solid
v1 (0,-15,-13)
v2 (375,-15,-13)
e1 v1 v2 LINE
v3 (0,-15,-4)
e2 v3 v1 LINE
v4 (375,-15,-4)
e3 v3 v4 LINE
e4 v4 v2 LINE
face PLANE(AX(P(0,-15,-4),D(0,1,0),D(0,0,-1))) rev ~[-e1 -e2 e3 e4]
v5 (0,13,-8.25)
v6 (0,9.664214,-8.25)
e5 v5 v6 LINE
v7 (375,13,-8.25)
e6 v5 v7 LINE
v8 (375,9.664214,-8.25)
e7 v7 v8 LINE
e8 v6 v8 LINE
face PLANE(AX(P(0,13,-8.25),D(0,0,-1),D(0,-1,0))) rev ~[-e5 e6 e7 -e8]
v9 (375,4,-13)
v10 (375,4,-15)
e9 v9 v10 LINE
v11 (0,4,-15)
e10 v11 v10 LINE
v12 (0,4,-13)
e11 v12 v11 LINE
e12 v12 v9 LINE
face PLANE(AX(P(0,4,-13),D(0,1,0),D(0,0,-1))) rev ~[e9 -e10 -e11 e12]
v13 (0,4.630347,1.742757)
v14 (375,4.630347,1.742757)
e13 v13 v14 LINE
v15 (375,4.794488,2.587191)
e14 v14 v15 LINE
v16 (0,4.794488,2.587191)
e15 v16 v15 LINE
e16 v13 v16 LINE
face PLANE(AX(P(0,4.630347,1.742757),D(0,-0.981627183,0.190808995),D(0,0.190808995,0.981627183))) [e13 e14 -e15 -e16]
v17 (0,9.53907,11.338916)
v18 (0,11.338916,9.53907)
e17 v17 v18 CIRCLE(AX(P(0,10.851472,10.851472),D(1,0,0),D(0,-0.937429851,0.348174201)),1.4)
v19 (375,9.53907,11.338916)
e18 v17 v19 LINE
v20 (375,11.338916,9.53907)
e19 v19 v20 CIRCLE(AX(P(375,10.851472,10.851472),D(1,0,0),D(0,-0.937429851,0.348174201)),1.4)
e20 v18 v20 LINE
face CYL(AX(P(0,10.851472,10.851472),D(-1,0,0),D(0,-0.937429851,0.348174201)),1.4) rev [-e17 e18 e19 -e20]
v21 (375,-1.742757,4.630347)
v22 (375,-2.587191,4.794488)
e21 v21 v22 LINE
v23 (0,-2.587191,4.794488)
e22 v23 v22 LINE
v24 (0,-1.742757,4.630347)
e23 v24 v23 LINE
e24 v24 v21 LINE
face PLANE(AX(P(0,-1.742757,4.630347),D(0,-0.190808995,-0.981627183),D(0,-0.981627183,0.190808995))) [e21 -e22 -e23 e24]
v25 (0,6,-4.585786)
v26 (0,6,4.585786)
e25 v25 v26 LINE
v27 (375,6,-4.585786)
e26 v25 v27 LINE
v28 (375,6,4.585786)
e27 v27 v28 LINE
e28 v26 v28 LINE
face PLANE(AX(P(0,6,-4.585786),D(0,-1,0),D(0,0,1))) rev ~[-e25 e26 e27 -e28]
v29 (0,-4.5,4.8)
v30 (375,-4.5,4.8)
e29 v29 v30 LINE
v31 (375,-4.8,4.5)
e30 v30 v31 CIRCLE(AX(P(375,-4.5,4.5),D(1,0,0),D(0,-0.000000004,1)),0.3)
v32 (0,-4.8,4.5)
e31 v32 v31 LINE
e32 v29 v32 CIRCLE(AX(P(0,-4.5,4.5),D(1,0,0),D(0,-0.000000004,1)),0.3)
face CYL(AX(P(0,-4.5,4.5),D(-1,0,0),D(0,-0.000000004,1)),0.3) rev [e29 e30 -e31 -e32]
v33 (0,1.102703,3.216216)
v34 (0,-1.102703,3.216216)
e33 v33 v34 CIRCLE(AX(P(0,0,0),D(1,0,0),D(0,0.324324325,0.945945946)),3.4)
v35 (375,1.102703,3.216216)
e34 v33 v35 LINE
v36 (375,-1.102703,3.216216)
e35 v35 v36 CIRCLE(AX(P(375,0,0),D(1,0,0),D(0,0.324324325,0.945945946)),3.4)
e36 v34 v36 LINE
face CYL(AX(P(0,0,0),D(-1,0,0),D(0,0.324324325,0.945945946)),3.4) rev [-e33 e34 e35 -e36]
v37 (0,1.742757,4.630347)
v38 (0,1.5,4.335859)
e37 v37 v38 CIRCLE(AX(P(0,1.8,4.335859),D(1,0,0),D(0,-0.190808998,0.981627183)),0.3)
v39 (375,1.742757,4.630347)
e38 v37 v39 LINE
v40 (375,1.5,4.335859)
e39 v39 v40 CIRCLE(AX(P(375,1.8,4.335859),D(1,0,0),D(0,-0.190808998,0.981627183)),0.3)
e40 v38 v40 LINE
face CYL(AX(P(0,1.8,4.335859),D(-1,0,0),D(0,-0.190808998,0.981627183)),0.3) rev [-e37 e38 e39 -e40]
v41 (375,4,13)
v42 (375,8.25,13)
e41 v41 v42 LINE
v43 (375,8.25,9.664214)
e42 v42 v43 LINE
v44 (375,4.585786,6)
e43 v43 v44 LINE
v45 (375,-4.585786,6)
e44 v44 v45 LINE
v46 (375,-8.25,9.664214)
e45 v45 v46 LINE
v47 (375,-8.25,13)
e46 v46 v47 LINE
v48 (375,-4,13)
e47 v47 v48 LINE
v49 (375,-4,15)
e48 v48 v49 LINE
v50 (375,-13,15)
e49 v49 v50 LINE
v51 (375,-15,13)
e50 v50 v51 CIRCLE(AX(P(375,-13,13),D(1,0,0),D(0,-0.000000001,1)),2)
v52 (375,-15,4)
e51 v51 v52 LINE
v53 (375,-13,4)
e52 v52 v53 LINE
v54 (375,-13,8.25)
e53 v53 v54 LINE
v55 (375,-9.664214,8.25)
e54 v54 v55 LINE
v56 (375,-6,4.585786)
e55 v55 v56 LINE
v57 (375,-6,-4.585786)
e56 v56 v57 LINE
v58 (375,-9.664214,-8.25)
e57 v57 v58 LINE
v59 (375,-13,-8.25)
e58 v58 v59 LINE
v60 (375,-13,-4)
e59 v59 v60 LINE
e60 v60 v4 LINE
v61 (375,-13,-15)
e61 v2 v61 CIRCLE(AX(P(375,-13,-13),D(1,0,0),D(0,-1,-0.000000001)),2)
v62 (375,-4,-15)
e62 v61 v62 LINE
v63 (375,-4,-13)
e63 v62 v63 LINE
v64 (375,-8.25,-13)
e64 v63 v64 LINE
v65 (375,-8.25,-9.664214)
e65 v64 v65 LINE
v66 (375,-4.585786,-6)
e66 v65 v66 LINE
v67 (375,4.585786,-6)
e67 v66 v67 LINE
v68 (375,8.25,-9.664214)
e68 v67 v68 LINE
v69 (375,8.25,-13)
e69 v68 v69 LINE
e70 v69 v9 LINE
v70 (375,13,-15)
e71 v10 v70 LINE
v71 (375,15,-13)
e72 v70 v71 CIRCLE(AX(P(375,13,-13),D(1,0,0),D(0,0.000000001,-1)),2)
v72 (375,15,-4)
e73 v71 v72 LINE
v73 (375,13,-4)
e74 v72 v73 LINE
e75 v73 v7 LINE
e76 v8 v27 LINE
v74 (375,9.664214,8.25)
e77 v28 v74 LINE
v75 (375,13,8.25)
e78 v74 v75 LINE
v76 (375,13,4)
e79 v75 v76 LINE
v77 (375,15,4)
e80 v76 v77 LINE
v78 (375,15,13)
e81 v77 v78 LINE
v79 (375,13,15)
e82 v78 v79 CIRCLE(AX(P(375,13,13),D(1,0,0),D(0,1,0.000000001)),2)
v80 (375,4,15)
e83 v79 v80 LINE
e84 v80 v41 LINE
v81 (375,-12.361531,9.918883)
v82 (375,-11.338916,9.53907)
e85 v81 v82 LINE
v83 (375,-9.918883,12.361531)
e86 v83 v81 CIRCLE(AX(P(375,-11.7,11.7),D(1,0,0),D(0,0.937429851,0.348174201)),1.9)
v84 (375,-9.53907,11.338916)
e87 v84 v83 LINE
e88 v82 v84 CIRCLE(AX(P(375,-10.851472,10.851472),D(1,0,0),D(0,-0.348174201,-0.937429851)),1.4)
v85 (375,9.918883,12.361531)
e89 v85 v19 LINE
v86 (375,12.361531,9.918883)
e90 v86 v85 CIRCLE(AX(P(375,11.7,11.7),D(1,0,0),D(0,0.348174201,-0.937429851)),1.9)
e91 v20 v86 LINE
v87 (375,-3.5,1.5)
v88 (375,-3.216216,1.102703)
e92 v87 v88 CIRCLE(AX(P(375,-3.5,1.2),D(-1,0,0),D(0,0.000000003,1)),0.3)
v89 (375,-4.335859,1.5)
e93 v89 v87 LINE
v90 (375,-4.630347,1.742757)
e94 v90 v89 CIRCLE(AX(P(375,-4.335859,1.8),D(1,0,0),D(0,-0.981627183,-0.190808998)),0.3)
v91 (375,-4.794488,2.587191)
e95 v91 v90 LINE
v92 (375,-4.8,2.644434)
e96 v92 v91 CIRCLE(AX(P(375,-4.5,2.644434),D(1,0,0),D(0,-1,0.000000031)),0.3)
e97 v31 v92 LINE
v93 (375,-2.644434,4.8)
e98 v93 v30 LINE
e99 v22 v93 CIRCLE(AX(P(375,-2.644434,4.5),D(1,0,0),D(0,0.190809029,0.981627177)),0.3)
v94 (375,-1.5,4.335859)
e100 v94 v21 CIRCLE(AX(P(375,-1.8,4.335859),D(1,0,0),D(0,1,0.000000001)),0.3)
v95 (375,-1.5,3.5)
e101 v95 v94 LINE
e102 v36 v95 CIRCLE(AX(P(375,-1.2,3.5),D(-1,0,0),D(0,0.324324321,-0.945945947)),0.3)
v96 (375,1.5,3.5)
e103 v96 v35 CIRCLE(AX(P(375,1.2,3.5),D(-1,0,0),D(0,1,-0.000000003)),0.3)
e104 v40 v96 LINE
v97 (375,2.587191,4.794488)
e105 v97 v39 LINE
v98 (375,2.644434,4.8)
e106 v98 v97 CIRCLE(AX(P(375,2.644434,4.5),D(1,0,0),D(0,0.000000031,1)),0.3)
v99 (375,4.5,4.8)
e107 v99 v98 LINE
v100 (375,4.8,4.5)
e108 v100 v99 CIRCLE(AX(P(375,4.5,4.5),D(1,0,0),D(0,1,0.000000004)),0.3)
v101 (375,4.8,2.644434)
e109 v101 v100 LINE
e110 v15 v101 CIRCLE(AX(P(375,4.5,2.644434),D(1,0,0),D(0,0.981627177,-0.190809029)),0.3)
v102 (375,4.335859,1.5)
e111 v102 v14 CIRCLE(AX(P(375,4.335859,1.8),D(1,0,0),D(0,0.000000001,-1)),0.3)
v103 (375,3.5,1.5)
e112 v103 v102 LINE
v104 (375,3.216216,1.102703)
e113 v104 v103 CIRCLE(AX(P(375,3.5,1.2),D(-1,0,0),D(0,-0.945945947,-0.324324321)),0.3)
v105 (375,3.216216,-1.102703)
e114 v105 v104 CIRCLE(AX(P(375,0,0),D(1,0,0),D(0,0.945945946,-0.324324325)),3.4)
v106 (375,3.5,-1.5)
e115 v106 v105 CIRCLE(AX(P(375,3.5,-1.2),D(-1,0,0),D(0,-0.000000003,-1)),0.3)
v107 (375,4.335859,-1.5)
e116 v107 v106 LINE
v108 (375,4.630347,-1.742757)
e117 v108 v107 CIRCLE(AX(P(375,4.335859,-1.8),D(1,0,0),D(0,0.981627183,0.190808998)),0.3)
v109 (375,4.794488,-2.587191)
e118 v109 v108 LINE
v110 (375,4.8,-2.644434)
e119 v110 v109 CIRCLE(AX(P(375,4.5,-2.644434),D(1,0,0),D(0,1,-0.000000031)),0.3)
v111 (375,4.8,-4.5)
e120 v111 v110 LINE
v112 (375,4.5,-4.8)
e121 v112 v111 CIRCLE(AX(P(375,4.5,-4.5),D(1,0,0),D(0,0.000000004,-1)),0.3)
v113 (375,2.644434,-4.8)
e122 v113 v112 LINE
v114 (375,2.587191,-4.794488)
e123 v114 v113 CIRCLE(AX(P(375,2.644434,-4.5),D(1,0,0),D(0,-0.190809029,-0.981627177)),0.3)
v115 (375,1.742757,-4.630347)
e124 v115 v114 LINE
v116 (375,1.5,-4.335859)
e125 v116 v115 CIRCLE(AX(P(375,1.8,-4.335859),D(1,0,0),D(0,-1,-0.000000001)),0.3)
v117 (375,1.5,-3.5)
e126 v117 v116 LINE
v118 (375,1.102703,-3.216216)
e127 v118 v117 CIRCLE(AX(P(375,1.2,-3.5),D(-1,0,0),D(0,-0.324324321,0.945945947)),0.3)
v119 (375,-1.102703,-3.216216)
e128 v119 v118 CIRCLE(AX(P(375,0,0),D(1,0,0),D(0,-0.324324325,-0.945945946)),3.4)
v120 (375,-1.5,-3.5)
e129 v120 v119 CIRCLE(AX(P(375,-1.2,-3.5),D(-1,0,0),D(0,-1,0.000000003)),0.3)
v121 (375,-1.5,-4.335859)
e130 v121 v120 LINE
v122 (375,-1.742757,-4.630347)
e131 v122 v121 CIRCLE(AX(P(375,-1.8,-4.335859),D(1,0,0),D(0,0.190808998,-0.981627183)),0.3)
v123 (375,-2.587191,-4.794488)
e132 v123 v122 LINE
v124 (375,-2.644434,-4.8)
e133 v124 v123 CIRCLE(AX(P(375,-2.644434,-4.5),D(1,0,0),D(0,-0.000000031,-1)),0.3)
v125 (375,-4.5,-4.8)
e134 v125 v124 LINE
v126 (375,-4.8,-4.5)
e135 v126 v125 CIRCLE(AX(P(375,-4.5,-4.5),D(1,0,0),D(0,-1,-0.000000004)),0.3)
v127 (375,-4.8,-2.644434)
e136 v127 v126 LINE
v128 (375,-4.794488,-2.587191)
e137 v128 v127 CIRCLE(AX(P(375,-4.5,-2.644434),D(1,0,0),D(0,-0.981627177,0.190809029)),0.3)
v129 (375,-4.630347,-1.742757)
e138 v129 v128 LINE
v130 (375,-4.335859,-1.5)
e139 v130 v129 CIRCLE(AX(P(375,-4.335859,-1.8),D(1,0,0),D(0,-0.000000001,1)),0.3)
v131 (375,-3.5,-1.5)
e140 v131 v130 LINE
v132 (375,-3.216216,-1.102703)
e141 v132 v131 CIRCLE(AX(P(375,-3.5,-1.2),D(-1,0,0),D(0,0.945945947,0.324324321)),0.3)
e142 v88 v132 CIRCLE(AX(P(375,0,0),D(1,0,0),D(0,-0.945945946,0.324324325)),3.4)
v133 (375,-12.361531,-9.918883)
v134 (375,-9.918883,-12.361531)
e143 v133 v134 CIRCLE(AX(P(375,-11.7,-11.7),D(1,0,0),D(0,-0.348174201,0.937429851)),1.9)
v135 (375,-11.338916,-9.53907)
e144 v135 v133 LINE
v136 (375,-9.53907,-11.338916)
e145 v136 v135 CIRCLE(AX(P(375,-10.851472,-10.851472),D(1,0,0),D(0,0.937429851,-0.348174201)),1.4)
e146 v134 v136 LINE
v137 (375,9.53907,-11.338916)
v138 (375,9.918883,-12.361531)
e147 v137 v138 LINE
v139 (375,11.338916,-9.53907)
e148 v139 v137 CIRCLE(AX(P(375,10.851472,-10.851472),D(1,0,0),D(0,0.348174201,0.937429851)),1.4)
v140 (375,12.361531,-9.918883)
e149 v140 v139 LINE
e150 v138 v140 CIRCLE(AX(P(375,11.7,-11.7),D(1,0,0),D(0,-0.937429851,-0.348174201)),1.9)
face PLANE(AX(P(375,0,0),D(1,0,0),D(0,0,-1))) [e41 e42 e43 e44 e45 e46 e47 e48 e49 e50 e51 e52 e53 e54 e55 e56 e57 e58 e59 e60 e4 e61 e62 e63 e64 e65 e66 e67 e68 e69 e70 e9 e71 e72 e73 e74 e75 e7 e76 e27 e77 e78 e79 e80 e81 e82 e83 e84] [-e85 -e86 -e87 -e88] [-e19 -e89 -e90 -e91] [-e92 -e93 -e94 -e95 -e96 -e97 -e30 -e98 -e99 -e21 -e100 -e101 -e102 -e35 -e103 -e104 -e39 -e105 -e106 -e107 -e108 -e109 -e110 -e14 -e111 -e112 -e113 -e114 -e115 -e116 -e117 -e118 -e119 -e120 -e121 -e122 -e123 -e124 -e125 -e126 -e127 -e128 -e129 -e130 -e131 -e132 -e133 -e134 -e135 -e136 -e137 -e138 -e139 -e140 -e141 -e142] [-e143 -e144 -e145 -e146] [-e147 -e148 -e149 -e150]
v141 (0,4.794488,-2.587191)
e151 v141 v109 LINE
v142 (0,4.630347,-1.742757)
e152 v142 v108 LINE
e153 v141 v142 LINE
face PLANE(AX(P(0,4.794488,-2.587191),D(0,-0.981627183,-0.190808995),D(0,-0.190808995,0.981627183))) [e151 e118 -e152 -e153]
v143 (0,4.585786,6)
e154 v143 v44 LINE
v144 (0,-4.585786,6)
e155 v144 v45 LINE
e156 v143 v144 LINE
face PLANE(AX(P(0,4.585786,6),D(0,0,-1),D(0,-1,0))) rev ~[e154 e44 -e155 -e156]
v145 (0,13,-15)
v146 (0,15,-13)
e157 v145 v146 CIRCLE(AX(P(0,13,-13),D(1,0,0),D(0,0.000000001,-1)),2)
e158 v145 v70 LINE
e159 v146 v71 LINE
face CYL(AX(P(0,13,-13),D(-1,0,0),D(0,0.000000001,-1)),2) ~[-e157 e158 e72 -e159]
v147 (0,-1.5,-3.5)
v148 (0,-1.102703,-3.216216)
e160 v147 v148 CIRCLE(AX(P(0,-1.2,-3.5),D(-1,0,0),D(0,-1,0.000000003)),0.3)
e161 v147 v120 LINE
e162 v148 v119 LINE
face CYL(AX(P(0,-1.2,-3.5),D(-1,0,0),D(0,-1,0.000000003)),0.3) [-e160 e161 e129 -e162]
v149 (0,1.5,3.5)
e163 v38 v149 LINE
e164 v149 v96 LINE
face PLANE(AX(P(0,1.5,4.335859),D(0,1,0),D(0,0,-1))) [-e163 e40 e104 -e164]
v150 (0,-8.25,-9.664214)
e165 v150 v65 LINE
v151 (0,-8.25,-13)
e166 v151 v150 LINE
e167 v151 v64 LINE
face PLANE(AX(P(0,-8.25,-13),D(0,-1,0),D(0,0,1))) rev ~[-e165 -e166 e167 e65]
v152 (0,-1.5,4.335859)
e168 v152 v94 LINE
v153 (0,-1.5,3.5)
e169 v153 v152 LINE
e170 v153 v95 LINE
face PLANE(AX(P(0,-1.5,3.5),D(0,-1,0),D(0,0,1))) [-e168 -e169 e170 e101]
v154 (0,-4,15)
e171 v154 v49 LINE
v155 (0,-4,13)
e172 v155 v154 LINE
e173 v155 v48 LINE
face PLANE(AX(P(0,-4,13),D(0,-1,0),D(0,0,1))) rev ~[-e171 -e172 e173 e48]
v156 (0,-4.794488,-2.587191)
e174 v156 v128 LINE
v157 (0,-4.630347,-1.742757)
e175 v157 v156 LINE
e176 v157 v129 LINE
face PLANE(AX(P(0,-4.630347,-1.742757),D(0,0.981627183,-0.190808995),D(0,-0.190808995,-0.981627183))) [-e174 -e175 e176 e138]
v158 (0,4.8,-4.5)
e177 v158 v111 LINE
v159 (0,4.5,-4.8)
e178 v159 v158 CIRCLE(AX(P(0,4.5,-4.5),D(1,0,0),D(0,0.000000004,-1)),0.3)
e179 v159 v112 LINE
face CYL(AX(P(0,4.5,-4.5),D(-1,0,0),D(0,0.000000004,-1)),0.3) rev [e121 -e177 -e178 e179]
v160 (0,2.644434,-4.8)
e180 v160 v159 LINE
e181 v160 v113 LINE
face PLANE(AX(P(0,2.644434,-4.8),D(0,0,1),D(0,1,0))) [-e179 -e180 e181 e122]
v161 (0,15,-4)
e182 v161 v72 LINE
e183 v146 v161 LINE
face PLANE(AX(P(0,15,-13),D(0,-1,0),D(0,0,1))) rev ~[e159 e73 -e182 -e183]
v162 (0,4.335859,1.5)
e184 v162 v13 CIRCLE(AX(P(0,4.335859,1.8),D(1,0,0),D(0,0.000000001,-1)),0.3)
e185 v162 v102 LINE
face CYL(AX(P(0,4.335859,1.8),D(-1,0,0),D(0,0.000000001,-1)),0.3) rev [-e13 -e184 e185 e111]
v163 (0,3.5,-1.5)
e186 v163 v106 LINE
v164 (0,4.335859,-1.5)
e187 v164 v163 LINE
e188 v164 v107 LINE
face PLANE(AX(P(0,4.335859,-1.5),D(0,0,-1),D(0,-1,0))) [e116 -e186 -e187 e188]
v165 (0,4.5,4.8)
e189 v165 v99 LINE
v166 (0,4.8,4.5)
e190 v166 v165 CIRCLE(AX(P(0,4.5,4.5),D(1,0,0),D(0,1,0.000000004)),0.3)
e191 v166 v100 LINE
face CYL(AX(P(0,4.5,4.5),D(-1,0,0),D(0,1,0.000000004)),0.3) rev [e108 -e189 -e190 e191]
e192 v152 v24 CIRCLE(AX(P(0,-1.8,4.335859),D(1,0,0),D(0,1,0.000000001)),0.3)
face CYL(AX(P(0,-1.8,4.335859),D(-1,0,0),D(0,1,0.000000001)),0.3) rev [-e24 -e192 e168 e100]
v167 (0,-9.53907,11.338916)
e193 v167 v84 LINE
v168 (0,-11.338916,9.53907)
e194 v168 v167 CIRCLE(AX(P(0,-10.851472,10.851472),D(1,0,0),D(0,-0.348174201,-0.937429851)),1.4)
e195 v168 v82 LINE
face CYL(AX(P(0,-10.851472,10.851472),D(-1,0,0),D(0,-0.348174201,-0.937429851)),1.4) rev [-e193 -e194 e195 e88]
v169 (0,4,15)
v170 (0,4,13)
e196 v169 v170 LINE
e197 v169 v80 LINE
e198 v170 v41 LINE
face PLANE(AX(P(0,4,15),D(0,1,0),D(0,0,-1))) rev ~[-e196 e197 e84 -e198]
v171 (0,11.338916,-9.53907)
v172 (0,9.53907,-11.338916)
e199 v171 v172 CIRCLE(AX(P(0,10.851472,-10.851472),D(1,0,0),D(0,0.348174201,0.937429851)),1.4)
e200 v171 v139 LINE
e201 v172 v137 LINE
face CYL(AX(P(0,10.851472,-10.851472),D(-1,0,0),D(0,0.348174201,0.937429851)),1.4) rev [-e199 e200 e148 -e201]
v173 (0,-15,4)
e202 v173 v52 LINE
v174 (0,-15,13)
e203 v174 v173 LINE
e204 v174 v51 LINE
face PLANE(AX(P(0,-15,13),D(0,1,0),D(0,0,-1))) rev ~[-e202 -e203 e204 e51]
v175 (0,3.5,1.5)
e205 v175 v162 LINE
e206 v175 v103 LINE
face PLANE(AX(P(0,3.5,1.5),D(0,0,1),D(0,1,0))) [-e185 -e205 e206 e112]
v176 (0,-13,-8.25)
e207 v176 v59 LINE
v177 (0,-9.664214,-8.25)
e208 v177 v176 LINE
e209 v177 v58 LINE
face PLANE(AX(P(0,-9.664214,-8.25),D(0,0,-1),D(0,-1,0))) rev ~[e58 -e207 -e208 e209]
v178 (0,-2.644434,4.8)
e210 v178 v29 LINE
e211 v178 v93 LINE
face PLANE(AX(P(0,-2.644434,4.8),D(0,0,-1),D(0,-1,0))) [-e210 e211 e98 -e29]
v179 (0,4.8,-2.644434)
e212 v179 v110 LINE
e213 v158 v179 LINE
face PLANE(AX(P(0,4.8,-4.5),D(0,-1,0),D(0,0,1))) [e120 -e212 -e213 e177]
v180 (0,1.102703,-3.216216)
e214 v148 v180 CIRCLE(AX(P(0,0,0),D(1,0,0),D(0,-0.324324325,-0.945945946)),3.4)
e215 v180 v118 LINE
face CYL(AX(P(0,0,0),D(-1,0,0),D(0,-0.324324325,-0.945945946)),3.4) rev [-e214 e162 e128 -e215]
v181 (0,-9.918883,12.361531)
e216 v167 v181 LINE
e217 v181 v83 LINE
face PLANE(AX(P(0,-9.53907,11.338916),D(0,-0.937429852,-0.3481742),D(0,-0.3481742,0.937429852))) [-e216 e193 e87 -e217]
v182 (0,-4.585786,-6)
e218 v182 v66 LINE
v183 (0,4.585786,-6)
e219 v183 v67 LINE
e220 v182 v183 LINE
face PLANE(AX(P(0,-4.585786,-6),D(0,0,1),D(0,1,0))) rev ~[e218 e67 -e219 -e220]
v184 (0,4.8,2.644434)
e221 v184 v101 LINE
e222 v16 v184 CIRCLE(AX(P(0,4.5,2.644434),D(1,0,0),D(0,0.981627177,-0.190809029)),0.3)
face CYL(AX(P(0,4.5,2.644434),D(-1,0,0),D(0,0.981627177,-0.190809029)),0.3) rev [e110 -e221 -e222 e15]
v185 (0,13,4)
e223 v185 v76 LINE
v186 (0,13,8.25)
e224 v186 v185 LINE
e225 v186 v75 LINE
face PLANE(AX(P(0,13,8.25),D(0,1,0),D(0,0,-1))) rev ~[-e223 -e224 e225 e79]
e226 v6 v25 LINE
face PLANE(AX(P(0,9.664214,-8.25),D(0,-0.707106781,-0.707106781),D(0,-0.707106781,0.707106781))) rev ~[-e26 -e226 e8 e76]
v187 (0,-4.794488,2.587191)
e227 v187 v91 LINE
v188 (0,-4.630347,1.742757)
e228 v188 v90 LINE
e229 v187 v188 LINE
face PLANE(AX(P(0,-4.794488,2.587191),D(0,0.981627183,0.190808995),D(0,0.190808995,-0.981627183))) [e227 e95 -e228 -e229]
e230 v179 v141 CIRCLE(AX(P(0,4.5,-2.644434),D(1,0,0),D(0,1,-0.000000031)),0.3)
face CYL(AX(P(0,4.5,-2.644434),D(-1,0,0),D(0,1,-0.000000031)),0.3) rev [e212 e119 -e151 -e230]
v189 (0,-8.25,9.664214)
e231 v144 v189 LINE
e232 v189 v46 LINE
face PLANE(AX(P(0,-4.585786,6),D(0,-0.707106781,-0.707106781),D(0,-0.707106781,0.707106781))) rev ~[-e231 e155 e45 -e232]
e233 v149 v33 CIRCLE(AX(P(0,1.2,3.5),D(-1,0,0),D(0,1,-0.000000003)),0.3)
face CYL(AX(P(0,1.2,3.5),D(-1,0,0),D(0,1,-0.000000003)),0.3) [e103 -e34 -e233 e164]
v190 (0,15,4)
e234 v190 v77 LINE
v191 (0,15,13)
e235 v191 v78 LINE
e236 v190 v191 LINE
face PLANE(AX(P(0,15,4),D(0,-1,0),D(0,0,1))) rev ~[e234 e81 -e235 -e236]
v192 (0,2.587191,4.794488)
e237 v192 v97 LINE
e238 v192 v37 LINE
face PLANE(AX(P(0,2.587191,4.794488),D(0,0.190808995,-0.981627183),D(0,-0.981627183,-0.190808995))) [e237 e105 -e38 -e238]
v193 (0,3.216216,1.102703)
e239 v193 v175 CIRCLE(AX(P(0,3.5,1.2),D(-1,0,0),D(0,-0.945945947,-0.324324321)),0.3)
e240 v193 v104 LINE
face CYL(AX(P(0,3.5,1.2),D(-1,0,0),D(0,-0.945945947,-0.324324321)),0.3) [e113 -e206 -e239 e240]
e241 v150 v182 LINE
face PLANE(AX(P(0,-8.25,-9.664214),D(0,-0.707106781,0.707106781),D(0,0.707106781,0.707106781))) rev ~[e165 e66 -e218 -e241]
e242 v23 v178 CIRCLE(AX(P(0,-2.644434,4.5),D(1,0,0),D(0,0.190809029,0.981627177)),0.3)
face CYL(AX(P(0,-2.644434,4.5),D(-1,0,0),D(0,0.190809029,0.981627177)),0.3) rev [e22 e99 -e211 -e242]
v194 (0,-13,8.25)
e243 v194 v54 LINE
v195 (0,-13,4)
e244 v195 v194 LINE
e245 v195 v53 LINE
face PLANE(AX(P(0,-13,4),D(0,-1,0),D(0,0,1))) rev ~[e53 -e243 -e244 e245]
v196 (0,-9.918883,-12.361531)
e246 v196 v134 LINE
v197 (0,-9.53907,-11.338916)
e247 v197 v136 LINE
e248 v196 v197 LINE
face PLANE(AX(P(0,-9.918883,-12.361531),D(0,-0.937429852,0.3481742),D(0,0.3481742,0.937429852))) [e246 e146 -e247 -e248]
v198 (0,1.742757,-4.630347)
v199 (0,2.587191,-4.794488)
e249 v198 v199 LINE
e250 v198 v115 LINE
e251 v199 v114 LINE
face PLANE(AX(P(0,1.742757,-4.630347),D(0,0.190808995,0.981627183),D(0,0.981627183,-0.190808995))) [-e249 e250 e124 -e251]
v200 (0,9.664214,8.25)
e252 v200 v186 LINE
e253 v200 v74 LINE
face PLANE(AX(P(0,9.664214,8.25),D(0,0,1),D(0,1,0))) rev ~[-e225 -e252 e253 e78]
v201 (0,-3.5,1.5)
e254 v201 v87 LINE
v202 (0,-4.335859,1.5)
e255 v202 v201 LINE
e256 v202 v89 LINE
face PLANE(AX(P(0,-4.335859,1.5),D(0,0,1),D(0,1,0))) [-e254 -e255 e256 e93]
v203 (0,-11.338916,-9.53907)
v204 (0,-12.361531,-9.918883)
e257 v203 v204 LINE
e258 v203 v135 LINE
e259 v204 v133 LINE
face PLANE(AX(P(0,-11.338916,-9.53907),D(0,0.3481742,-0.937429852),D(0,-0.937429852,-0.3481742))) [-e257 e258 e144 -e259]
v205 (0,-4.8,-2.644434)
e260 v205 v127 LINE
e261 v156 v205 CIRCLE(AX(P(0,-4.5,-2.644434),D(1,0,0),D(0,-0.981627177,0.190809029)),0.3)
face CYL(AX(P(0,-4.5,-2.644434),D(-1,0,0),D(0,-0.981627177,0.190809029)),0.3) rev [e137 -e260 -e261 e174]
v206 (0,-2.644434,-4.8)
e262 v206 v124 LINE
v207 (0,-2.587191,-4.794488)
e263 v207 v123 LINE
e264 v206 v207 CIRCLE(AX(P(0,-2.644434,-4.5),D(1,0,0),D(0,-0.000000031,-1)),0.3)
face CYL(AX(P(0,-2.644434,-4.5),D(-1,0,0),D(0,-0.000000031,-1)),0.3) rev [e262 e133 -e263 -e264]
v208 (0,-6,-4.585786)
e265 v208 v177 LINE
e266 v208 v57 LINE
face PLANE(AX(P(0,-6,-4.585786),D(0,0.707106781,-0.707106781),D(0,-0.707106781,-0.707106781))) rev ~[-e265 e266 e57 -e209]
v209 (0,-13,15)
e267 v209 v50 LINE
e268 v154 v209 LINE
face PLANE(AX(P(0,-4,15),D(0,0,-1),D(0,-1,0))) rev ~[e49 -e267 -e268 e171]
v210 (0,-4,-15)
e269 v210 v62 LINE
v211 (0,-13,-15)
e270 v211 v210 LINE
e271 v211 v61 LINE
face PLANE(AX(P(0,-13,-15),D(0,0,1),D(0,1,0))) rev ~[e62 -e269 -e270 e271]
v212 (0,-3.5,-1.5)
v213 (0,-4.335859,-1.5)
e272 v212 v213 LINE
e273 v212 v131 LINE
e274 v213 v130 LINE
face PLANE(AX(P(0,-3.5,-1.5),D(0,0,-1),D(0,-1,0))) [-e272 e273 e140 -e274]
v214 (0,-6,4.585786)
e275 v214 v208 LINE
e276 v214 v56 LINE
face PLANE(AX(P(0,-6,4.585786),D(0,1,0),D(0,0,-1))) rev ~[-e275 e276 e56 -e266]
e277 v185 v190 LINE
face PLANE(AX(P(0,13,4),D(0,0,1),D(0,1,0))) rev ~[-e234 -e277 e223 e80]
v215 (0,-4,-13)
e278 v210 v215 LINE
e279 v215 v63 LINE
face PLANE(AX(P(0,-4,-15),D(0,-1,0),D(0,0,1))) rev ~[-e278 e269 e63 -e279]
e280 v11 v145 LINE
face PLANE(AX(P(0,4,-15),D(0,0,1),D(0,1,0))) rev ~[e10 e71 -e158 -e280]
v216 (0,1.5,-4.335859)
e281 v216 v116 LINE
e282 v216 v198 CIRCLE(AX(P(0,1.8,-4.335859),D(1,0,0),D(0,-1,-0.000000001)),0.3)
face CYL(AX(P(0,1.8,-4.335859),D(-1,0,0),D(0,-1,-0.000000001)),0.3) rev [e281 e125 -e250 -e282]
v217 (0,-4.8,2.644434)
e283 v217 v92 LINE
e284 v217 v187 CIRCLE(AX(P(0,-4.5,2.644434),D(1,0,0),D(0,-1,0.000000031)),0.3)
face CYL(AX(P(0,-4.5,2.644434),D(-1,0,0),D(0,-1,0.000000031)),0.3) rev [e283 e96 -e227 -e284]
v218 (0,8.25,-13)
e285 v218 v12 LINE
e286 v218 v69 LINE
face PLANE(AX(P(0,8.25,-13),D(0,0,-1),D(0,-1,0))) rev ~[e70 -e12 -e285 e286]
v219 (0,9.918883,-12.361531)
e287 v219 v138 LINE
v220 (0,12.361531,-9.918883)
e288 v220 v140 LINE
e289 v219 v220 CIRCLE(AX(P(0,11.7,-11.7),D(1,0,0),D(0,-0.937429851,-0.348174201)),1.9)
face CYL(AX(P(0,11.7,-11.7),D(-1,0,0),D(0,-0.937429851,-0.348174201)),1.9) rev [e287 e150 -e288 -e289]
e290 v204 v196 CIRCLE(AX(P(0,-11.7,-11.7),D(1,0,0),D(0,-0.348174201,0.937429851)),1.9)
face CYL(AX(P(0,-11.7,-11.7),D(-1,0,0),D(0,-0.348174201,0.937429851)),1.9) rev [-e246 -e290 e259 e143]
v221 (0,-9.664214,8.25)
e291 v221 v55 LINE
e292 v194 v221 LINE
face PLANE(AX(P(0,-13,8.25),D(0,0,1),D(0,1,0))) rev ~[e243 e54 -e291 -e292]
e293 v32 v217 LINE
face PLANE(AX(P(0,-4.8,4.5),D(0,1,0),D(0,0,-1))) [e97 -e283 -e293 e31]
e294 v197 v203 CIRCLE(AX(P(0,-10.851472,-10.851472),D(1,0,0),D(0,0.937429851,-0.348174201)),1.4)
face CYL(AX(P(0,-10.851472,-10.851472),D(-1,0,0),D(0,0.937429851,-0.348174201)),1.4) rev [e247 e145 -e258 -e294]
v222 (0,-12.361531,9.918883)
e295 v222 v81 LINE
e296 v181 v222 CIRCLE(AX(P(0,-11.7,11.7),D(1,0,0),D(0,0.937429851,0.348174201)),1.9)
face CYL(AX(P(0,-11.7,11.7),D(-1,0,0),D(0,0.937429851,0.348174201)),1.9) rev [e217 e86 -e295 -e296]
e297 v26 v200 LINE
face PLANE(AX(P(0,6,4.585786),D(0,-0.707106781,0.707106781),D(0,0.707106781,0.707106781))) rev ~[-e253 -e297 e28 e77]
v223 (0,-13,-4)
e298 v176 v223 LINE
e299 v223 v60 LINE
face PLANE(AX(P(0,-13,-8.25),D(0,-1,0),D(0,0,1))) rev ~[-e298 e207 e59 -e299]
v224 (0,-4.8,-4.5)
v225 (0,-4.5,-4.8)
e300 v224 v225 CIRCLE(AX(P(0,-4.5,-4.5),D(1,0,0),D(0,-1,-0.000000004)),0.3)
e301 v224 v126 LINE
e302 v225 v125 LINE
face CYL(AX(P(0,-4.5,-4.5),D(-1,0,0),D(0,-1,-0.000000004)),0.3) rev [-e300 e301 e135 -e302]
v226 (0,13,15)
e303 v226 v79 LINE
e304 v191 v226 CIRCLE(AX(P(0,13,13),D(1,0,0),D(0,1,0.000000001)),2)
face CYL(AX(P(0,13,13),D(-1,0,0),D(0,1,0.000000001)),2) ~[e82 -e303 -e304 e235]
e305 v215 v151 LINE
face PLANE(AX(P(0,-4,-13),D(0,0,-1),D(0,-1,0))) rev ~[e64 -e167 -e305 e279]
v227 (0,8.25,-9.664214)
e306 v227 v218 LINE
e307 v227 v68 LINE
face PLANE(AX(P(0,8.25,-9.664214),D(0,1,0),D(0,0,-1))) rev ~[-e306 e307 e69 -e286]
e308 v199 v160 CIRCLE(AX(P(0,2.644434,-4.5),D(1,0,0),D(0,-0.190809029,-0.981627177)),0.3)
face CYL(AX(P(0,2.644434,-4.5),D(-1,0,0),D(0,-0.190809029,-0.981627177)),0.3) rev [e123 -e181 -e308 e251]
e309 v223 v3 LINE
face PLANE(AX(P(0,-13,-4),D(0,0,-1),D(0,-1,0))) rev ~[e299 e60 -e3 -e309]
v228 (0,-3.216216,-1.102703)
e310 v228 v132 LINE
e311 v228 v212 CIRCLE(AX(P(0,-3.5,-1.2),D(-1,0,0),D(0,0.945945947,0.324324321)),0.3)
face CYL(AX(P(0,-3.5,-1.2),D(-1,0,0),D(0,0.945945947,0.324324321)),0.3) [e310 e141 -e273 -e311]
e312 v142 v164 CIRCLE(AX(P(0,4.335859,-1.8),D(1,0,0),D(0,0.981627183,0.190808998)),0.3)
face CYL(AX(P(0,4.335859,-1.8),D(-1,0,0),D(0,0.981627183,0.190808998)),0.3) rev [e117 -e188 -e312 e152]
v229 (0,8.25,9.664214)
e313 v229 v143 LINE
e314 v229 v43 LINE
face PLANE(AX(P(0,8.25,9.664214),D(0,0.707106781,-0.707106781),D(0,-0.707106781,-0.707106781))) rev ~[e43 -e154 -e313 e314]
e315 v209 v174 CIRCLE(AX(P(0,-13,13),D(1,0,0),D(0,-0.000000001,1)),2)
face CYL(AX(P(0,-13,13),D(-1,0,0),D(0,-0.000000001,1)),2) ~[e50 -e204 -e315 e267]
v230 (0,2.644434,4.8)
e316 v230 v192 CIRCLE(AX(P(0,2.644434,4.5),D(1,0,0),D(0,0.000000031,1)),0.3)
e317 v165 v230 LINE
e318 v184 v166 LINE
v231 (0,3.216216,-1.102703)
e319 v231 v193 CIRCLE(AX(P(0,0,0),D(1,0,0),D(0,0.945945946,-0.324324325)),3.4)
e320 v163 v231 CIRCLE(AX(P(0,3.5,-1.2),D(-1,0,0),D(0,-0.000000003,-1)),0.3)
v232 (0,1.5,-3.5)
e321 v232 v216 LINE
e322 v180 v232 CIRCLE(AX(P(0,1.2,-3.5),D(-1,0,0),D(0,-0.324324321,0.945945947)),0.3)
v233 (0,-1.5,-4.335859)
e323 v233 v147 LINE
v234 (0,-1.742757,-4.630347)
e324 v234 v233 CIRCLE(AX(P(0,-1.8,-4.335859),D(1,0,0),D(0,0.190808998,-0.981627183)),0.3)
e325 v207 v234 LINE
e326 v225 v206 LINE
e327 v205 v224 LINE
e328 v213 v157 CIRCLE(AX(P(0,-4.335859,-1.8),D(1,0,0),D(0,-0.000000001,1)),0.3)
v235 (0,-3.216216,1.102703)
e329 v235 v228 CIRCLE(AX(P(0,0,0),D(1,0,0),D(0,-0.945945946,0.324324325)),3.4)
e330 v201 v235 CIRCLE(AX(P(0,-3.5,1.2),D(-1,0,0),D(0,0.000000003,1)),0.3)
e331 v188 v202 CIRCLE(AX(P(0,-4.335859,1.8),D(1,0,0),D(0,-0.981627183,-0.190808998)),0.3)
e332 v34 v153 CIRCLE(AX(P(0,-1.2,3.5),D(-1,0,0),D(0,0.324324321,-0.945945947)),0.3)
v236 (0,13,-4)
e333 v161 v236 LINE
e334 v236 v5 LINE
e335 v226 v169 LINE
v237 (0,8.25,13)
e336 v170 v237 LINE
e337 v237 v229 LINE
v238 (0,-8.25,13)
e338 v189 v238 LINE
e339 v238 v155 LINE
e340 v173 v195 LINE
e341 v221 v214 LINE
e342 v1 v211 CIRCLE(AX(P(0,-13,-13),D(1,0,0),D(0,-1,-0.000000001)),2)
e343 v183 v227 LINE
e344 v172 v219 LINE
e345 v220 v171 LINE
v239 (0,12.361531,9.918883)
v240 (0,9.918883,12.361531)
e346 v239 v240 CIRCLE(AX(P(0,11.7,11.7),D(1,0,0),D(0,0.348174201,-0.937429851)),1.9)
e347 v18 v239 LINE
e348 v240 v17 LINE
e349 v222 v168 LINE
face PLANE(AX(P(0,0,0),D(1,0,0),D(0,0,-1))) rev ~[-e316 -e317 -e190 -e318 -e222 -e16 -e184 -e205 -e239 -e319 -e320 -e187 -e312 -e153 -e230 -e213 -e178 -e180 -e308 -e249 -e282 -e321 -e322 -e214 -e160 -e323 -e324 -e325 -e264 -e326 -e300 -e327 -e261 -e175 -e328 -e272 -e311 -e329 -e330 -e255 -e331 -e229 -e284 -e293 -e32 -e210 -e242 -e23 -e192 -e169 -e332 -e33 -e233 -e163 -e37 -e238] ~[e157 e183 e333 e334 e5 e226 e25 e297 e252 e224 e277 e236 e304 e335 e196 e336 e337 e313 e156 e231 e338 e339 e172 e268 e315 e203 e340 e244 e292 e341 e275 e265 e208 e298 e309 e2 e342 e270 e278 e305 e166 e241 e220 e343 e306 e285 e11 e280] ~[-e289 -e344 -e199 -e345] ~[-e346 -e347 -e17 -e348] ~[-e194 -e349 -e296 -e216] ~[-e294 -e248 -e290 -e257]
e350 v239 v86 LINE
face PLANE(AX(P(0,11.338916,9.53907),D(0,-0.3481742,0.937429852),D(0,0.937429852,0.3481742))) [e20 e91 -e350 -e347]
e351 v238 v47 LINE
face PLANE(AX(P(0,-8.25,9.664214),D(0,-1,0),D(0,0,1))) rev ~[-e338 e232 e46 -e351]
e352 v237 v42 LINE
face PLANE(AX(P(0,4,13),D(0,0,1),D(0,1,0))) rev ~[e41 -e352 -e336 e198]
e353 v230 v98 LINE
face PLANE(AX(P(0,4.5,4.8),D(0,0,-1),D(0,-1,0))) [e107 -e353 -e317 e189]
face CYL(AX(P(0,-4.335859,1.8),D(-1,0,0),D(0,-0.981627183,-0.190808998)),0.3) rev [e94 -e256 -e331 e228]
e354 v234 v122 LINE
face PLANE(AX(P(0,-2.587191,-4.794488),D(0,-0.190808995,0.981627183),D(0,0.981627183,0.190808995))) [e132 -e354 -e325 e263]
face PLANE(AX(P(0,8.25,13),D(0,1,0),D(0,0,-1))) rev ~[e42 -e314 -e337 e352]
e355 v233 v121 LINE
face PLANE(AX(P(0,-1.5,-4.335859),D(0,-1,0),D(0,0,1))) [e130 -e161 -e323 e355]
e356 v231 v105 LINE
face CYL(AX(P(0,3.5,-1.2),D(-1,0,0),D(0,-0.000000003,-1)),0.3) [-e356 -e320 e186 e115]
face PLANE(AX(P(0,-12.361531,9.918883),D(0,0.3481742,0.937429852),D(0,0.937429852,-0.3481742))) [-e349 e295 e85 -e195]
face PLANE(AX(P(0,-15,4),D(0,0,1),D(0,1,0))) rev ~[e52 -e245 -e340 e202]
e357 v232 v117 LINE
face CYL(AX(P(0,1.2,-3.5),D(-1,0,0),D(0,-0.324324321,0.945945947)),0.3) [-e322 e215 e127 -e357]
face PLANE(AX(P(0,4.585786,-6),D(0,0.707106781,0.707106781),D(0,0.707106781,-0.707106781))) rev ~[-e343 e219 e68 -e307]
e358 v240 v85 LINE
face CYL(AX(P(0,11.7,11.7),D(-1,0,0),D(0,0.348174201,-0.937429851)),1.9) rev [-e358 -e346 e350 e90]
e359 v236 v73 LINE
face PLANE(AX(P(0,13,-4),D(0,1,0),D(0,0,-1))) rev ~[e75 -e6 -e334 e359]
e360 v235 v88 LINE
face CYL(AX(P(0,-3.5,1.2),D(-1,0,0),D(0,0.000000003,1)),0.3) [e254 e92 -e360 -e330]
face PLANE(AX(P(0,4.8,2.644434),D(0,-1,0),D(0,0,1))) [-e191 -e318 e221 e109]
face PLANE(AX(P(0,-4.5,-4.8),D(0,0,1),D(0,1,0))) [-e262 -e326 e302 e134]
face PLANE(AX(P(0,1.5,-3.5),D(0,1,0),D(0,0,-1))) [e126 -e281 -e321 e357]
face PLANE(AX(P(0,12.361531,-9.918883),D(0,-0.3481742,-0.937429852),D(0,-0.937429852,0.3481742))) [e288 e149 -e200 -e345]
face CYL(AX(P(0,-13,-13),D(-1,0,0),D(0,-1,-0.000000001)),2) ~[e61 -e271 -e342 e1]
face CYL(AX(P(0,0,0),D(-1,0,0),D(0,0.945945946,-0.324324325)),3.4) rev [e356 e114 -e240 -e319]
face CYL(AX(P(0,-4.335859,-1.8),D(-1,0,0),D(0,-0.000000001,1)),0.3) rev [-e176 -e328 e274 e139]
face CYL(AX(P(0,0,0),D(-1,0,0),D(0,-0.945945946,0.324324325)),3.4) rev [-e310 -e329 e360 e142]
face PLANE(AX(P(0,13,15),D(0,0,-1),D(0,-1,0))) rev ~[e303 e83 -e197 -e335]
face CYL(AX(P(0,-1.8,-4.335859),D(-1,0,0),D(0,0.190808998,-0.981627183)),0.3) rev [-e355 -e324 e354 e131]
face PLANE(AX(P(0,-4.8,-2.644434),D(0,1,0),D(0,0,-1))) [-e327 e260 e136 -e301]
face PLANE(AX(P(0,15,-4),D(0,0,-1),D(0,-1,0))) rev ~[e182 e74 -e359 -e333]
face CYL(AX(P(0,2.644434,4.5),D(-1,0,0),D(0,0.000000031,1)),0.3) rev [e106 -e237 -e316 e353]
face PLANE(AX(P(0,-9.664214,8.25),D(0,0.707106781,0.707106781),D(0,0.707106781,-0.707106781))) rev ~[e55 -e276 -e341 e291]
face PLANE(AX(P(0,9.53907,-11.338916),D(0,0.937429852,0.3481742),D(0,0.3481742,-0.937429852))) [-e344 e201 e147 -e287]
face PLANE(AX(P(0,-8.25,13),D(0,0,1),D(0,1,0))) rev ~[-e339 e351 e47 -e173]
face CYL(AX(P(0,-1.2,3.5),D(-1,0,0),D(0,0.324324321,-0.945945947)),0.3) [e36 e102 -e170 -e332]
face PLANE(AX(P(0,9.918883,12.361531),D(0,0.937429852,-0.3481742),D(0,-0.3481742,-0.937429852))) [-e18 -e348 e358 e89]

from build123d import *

# Parameters (mm, degrees)
BOSS_EXTRUDE1_DEPTH = 375


with BuildPart() as part:
    # Sketch1 → Boss-Extrude1 (new body)
    with BuildSketch(Plane(origin=(0, 0, 0), x_dir=(0, 0, -1), z_dir=(1, 0, 0))):
        with BuildLine():
            Line((-15, 13), (-15, 4))
            Line((-15, 4), (-13, 4))
            Line((-13, 4), (-13, 8.25))
            Line((-13, 8.25), (-9.664213562, 8.25))
            Line((-9.664213562, 8.25), (-6, 4.585786438))
            Line((-6, 4.585786438), (-6, -4.585786438))
            Line((-6, -4.585786438), (-9.664213562, -8.25))
            Line((-9.664213562, -8.25), (-13, -8.25))
            Line((-13, -8.25), (-13, -4))
            Line((-13, -4), (-15, -4))
            Line((-15, -4), (-15, -13))
            ThreePointArc((-15, -13), (-14.414213562, -14.414213562), (-13, -15))
            Line((-13, -15), (-4, -15))
            Line((-4, -15), (-4, -13))
            Line((-4, -13), (-8.25, -13))
            Line((-8.25, -13), (-8.25, -9.664213562))
            Line((-8.25, -9.664213562), (-4.585786438, -6))
            Line((-4.585786438, -6), (4.585786438, -6))
            Line((4.585786438, -6), (8.25, -9.664213562))
            Line((8.25, -9.664213562), (8.25, -13))
            Line((8.25, -13), (4, -13))
            Line((4, -13), (4, -15))
            Line((4, -15), (13, -15))
            ThreePointArc((13, -15), (14.414213562, -14.414213562), (15, -13))
            Line((15, -13), (15, -4))
            Line((15, -4), (13, -4))
            Line((13, -4), (13, -8.25))
            Line((13, -8.25), (9.664213562, -8.25))
            Line((9.664213562, -8.25), (6, -4.585786438))
            Line((6, -4.585786438), (6, 4.585786438))
            Line((6, 4.585786438), (9.664213562, 8.25))
            Line((9.664213562, 8.25), (13, 8.25))
            Line((13, 8.25), (13, 4))
            Line((13, 4), (15, 4))
            Line((15, 4), (15, 13))
            ThreePointArc((15, 13), (14.414213562, 14.414213562), (13, 15))
            Line((13, 15), (4, 15))
            Line((4, 15), (4, 13))
            Line((4, 13), (8.25, 13))
            Line((8.25, 13), (8.25, 9.664213562))
            Line((8.25, 9.664213562), (4.585786438, 6))
            Line((4.585786438, 6), (-4.585786438, 6))
            Line((-4.585786438, 6), (-8.25, 9.664213562))
            Line((-8.25, 9.664213562), (-8.25, 13))
            Line((-8.25, 13), (-4, 13))
            Line((-4, 13), (-4, 15))
            Line((-4, 15), (-13, 15))
            ThreePointArc((-13, 15), (-14.414213562, 14.414213562), (-15, 13))
        make_face()
        with BuildLine():
            Line((-9.539070071, 11.338915743), (-9.918883282, 12.361530981))
            ThreePointArc((-9.918883282, 12.361530981), (-13.043502884, 13.043502884), (-12.361530981, 9.918883282))
            Line((-12.361530981, 9.918883282), (-11.338915743, 9.539070071))
            ThreePointArc((-11.338915743, 9.539070071), (-9.861522369, 9.861522369), (-9.539070071, 11.338915743))
        make_face(mode=Mode.SUBTRACT)
        with BuildLine():
            Line((9.918883282, 12.361530981), (9.539070071, 11.338915743))
            ThreePointArc((9.539070071, 11.338915743), (9.861522369, 9.861522369), (11.338915743, 9.539070071))
            Line((11.338915743, 9.539070071), (12.361530981, 9.918883282))
            ThreePointArc((12.361530981, 9.918883282), (13.043502884, 13.043502884), (9.918883282, 12.361530981))
        make_face(mode=Mode.SUBTRACT)
        with BuildLine():
            Line((12.361530981, -9.918883282), (11.338915743, -9.539070071))
            ThreePointArc((11.338915743, -9.539070071), (9.861522369, -9.861522369), (9.539070071, -11.338915743))
            Line((9.539070071, -11.338915743), (9.918883282, -12.361530981))
            ThreePointArc((9.918883282, -12.361530981), (13.043502884, -13.043502884), (12.361530981, -9.918883282))
        make_face(mode=Mode.SUBTRACT)
        with BuildLine():
            Line((-11.338915743, -9.539070071), (-12.361530981, -9.918883282))
            ThreePointArc((-12.361530981, -9.918883282), (-13.043502884, -13.043502884), (-9.918883282, -12.361530981))
            Line((-9.918883282, -12.361530981), (-9.539070071, -11.338915743))
            ThreePointArc((-9.539070071, -11.338915743), (-9.861522369, -9.861522369), (-11.338915743, -9.539070071))
        make_face(mode=Mode.SUBTRACT)
        with BuildLine():
            Line((-4.8, -2.644433572), (-4.8, -4.5))
            ThreePointArc((-4.8, -4.5), (-4.712132034, -4.712132034), (-4.5, -4.8))
            Line((-4.5, -4.8), (-2.644433572, -4.8))
            ThreePointArc((-2.644433572, -4.8), (-2.615679847, -4.79861886), (-2.587190874, -4.794488155))
            Line((-2.587190874, -4.794488155), (-1.742757301, -4.630346896))
            ThreePointArc((-1.742757301, -4.630346896), (-1.568512625, -4.526682207), (-1.5, -4.335858741))
            Line((-1.5, -4.335858741), (-1.5, -3.5))
            ThreePointArc((-1.5, -3.5), (-1.374371458, -3.255879959), (-1.102702703, -3.216216216))
            ThreePointArc((-1.102702703, -3.216216216), (0, -3.4), (1.102702703, -3.216216216))
            ThreePointArc((1.102702703, -3.216216216), (1.374371458, -3.255879959), (1.5, -3.5))
            Line((1.5, -3.5), (1.5, -4.335858741))
            ThreePointArc((1.5, -4.335858741), (1.568512625, -4.526682207), (1.742757301, -4.630346896))
            Line((1.742757301, -4.630346896), (2.587190874, -4.794488155))
            ThreePointArc((2.587190874, -4.794488155), (2.615679847, -4.79861886), (2.644433572, -4.8))
            Line((2.644433572, -4.8), (4.5, -4.8))
            ThreePointArc((4.5, -4.8), (4.712132034, -4.712132034), (4.8, -4.5))
            Line((4.8, -4.5), (4.8, -2.644433572))
            ThreePointArc((4.8, -2.644433572), (4.79861886, -2.615679847), (4.794488155, -2.587190874))
            Line((4.794488155, -2.587190874), (4.630346896, -1.742757301))
            ThreePointArc((4.630346896, -1.742757301), (4.526682207, -1.568512625), (4.335858741, -1.5))
            Line((4.335858741, -1.5), (3.5, -1.5))
            ThreePointArc((3.5, -1.5), (3.255879959, -1.374371458), (3.216216216, -1.102702703))
            ThreePointArc((3.216216216, -1.102702703), (3.4, 0), (3.216216216, 1.102702703))
            ThreePointArc((3.216216216, 1.102702703), (3.255879959, 1.374371458), (3.5, 1.5))
            Line((3.5, 1.5), (4.335858741, 1.5))
            ThreePointArc((4.335858741, 1.5), (4.526682207, 1.568512625), (4.630346896, 1.742757301))
            Line((4.630346896, 1.742757301), (4.794488155, 2.587190874))
            ThreePointArc((4.794488155, 2.587190874), (4.79861886, 2.615679847), (4.8, 2.644433572))
            Line((4.8, 2.644433572), (4.8, 4.5))
            ThreePointArc((4.8, 4.5), (4.712132034, 4.712132034), (4.5, 4.8))
            Line((4.5, 4.8), (2.644433572, 4.8))
            ThreePointArc((2.644433572, 4.8), (2.615679847, 4.79861886), (2.587190874, 4.794488155))
            Line((2.587190874, 4.794488155), (1.742757301, 4.630346896))
            ThreePointArc((1.742757301, 4.630346896), (1.568512625, 4.526682207), (1.5, 4.335858741))
            Line((1.5, 4.335858741), (1.5, 3.5))
            ThreePointArc((1.5, 3.5), (1.374371458, 3.255879959), (1.102702703, 3.216216216))
            ThreePointArc((1.102702703, 3.216216216), (0, 3.4), (-1.102702703, 3.216216216))
            ThreePointArc((-1.102702703, 3.216216216), (-1.374371458, 3.255879959), (-1.5, 3.5))
            Line((-1.5, 3.5), (-1.5, 4.335858741))
            ThreePointArc((-1.5, 4.335858741), (-1.568512625, 4.526682207), (-1.742757301, 4.630346896))
            Line((-1.742757301, 4.630346896), (-2.587190874, 4.794488155))
            ThreePointArc((-2.587190874, 4.794488155), (-2.615679847, 4.79861886), (-2.644433572, 4.8))
            Line((-2.644433572, 4.8), (-4.5, 4.8))
            ThreePointArc((-4.5, 4.8), (-4.712132034, 4.712132034), (-4.8, 4.5))
            Line((-4.8, 4.5), (-4.8, 2.644433572))
            ThreePointArc((-4.8, 2.644433572), (-4.79861886, 2.615679847), (-4.794488155, 2.587190874))
            Line((-4.794488155, 2.587190874), (-4.630346896, 1.742757301))
            ThreePointArc((-4.630346896, 1.742757301), (-4.526682207, 1.568512625), (-4.335858741, 1.5))
            Line((-4.335858741, 1.5), (-3.5, 1.5))
            ThreePointArc((-3.5, 1.5), (-3.255879959, 1.374371458), (-3.216216216, 1.102702703))
            ThreePointArc((-3.216216216, 1.102702703), (-3.4, 0), (-3.216216216, -1.102702703))
            ThreePointArc((-3.216216216, -1.102702703), (-3.255879959, -1.374371458), (-3.5, -1.5))
            Line((-3.5, -1.5), (-4.335858741, -1.5))
            ThreePointArc((-4.335858741, -1.5), (-4.526682207, -1.568512625), (-4.630346896, -1.742757301))
            Line((-4.630346896, -1.742757301), (-4.794488155, -2.587190874))
            ThreePointArc((-4.794488155, -2.587190874), (-4.79861886, -2.615679847), (-4.8, -2.644433572))
        make_face(mode=Mode.SUBTRACT)
    extrude(amount=BOSS_EXTRUDE1_DEPTH)


solid = part.part
